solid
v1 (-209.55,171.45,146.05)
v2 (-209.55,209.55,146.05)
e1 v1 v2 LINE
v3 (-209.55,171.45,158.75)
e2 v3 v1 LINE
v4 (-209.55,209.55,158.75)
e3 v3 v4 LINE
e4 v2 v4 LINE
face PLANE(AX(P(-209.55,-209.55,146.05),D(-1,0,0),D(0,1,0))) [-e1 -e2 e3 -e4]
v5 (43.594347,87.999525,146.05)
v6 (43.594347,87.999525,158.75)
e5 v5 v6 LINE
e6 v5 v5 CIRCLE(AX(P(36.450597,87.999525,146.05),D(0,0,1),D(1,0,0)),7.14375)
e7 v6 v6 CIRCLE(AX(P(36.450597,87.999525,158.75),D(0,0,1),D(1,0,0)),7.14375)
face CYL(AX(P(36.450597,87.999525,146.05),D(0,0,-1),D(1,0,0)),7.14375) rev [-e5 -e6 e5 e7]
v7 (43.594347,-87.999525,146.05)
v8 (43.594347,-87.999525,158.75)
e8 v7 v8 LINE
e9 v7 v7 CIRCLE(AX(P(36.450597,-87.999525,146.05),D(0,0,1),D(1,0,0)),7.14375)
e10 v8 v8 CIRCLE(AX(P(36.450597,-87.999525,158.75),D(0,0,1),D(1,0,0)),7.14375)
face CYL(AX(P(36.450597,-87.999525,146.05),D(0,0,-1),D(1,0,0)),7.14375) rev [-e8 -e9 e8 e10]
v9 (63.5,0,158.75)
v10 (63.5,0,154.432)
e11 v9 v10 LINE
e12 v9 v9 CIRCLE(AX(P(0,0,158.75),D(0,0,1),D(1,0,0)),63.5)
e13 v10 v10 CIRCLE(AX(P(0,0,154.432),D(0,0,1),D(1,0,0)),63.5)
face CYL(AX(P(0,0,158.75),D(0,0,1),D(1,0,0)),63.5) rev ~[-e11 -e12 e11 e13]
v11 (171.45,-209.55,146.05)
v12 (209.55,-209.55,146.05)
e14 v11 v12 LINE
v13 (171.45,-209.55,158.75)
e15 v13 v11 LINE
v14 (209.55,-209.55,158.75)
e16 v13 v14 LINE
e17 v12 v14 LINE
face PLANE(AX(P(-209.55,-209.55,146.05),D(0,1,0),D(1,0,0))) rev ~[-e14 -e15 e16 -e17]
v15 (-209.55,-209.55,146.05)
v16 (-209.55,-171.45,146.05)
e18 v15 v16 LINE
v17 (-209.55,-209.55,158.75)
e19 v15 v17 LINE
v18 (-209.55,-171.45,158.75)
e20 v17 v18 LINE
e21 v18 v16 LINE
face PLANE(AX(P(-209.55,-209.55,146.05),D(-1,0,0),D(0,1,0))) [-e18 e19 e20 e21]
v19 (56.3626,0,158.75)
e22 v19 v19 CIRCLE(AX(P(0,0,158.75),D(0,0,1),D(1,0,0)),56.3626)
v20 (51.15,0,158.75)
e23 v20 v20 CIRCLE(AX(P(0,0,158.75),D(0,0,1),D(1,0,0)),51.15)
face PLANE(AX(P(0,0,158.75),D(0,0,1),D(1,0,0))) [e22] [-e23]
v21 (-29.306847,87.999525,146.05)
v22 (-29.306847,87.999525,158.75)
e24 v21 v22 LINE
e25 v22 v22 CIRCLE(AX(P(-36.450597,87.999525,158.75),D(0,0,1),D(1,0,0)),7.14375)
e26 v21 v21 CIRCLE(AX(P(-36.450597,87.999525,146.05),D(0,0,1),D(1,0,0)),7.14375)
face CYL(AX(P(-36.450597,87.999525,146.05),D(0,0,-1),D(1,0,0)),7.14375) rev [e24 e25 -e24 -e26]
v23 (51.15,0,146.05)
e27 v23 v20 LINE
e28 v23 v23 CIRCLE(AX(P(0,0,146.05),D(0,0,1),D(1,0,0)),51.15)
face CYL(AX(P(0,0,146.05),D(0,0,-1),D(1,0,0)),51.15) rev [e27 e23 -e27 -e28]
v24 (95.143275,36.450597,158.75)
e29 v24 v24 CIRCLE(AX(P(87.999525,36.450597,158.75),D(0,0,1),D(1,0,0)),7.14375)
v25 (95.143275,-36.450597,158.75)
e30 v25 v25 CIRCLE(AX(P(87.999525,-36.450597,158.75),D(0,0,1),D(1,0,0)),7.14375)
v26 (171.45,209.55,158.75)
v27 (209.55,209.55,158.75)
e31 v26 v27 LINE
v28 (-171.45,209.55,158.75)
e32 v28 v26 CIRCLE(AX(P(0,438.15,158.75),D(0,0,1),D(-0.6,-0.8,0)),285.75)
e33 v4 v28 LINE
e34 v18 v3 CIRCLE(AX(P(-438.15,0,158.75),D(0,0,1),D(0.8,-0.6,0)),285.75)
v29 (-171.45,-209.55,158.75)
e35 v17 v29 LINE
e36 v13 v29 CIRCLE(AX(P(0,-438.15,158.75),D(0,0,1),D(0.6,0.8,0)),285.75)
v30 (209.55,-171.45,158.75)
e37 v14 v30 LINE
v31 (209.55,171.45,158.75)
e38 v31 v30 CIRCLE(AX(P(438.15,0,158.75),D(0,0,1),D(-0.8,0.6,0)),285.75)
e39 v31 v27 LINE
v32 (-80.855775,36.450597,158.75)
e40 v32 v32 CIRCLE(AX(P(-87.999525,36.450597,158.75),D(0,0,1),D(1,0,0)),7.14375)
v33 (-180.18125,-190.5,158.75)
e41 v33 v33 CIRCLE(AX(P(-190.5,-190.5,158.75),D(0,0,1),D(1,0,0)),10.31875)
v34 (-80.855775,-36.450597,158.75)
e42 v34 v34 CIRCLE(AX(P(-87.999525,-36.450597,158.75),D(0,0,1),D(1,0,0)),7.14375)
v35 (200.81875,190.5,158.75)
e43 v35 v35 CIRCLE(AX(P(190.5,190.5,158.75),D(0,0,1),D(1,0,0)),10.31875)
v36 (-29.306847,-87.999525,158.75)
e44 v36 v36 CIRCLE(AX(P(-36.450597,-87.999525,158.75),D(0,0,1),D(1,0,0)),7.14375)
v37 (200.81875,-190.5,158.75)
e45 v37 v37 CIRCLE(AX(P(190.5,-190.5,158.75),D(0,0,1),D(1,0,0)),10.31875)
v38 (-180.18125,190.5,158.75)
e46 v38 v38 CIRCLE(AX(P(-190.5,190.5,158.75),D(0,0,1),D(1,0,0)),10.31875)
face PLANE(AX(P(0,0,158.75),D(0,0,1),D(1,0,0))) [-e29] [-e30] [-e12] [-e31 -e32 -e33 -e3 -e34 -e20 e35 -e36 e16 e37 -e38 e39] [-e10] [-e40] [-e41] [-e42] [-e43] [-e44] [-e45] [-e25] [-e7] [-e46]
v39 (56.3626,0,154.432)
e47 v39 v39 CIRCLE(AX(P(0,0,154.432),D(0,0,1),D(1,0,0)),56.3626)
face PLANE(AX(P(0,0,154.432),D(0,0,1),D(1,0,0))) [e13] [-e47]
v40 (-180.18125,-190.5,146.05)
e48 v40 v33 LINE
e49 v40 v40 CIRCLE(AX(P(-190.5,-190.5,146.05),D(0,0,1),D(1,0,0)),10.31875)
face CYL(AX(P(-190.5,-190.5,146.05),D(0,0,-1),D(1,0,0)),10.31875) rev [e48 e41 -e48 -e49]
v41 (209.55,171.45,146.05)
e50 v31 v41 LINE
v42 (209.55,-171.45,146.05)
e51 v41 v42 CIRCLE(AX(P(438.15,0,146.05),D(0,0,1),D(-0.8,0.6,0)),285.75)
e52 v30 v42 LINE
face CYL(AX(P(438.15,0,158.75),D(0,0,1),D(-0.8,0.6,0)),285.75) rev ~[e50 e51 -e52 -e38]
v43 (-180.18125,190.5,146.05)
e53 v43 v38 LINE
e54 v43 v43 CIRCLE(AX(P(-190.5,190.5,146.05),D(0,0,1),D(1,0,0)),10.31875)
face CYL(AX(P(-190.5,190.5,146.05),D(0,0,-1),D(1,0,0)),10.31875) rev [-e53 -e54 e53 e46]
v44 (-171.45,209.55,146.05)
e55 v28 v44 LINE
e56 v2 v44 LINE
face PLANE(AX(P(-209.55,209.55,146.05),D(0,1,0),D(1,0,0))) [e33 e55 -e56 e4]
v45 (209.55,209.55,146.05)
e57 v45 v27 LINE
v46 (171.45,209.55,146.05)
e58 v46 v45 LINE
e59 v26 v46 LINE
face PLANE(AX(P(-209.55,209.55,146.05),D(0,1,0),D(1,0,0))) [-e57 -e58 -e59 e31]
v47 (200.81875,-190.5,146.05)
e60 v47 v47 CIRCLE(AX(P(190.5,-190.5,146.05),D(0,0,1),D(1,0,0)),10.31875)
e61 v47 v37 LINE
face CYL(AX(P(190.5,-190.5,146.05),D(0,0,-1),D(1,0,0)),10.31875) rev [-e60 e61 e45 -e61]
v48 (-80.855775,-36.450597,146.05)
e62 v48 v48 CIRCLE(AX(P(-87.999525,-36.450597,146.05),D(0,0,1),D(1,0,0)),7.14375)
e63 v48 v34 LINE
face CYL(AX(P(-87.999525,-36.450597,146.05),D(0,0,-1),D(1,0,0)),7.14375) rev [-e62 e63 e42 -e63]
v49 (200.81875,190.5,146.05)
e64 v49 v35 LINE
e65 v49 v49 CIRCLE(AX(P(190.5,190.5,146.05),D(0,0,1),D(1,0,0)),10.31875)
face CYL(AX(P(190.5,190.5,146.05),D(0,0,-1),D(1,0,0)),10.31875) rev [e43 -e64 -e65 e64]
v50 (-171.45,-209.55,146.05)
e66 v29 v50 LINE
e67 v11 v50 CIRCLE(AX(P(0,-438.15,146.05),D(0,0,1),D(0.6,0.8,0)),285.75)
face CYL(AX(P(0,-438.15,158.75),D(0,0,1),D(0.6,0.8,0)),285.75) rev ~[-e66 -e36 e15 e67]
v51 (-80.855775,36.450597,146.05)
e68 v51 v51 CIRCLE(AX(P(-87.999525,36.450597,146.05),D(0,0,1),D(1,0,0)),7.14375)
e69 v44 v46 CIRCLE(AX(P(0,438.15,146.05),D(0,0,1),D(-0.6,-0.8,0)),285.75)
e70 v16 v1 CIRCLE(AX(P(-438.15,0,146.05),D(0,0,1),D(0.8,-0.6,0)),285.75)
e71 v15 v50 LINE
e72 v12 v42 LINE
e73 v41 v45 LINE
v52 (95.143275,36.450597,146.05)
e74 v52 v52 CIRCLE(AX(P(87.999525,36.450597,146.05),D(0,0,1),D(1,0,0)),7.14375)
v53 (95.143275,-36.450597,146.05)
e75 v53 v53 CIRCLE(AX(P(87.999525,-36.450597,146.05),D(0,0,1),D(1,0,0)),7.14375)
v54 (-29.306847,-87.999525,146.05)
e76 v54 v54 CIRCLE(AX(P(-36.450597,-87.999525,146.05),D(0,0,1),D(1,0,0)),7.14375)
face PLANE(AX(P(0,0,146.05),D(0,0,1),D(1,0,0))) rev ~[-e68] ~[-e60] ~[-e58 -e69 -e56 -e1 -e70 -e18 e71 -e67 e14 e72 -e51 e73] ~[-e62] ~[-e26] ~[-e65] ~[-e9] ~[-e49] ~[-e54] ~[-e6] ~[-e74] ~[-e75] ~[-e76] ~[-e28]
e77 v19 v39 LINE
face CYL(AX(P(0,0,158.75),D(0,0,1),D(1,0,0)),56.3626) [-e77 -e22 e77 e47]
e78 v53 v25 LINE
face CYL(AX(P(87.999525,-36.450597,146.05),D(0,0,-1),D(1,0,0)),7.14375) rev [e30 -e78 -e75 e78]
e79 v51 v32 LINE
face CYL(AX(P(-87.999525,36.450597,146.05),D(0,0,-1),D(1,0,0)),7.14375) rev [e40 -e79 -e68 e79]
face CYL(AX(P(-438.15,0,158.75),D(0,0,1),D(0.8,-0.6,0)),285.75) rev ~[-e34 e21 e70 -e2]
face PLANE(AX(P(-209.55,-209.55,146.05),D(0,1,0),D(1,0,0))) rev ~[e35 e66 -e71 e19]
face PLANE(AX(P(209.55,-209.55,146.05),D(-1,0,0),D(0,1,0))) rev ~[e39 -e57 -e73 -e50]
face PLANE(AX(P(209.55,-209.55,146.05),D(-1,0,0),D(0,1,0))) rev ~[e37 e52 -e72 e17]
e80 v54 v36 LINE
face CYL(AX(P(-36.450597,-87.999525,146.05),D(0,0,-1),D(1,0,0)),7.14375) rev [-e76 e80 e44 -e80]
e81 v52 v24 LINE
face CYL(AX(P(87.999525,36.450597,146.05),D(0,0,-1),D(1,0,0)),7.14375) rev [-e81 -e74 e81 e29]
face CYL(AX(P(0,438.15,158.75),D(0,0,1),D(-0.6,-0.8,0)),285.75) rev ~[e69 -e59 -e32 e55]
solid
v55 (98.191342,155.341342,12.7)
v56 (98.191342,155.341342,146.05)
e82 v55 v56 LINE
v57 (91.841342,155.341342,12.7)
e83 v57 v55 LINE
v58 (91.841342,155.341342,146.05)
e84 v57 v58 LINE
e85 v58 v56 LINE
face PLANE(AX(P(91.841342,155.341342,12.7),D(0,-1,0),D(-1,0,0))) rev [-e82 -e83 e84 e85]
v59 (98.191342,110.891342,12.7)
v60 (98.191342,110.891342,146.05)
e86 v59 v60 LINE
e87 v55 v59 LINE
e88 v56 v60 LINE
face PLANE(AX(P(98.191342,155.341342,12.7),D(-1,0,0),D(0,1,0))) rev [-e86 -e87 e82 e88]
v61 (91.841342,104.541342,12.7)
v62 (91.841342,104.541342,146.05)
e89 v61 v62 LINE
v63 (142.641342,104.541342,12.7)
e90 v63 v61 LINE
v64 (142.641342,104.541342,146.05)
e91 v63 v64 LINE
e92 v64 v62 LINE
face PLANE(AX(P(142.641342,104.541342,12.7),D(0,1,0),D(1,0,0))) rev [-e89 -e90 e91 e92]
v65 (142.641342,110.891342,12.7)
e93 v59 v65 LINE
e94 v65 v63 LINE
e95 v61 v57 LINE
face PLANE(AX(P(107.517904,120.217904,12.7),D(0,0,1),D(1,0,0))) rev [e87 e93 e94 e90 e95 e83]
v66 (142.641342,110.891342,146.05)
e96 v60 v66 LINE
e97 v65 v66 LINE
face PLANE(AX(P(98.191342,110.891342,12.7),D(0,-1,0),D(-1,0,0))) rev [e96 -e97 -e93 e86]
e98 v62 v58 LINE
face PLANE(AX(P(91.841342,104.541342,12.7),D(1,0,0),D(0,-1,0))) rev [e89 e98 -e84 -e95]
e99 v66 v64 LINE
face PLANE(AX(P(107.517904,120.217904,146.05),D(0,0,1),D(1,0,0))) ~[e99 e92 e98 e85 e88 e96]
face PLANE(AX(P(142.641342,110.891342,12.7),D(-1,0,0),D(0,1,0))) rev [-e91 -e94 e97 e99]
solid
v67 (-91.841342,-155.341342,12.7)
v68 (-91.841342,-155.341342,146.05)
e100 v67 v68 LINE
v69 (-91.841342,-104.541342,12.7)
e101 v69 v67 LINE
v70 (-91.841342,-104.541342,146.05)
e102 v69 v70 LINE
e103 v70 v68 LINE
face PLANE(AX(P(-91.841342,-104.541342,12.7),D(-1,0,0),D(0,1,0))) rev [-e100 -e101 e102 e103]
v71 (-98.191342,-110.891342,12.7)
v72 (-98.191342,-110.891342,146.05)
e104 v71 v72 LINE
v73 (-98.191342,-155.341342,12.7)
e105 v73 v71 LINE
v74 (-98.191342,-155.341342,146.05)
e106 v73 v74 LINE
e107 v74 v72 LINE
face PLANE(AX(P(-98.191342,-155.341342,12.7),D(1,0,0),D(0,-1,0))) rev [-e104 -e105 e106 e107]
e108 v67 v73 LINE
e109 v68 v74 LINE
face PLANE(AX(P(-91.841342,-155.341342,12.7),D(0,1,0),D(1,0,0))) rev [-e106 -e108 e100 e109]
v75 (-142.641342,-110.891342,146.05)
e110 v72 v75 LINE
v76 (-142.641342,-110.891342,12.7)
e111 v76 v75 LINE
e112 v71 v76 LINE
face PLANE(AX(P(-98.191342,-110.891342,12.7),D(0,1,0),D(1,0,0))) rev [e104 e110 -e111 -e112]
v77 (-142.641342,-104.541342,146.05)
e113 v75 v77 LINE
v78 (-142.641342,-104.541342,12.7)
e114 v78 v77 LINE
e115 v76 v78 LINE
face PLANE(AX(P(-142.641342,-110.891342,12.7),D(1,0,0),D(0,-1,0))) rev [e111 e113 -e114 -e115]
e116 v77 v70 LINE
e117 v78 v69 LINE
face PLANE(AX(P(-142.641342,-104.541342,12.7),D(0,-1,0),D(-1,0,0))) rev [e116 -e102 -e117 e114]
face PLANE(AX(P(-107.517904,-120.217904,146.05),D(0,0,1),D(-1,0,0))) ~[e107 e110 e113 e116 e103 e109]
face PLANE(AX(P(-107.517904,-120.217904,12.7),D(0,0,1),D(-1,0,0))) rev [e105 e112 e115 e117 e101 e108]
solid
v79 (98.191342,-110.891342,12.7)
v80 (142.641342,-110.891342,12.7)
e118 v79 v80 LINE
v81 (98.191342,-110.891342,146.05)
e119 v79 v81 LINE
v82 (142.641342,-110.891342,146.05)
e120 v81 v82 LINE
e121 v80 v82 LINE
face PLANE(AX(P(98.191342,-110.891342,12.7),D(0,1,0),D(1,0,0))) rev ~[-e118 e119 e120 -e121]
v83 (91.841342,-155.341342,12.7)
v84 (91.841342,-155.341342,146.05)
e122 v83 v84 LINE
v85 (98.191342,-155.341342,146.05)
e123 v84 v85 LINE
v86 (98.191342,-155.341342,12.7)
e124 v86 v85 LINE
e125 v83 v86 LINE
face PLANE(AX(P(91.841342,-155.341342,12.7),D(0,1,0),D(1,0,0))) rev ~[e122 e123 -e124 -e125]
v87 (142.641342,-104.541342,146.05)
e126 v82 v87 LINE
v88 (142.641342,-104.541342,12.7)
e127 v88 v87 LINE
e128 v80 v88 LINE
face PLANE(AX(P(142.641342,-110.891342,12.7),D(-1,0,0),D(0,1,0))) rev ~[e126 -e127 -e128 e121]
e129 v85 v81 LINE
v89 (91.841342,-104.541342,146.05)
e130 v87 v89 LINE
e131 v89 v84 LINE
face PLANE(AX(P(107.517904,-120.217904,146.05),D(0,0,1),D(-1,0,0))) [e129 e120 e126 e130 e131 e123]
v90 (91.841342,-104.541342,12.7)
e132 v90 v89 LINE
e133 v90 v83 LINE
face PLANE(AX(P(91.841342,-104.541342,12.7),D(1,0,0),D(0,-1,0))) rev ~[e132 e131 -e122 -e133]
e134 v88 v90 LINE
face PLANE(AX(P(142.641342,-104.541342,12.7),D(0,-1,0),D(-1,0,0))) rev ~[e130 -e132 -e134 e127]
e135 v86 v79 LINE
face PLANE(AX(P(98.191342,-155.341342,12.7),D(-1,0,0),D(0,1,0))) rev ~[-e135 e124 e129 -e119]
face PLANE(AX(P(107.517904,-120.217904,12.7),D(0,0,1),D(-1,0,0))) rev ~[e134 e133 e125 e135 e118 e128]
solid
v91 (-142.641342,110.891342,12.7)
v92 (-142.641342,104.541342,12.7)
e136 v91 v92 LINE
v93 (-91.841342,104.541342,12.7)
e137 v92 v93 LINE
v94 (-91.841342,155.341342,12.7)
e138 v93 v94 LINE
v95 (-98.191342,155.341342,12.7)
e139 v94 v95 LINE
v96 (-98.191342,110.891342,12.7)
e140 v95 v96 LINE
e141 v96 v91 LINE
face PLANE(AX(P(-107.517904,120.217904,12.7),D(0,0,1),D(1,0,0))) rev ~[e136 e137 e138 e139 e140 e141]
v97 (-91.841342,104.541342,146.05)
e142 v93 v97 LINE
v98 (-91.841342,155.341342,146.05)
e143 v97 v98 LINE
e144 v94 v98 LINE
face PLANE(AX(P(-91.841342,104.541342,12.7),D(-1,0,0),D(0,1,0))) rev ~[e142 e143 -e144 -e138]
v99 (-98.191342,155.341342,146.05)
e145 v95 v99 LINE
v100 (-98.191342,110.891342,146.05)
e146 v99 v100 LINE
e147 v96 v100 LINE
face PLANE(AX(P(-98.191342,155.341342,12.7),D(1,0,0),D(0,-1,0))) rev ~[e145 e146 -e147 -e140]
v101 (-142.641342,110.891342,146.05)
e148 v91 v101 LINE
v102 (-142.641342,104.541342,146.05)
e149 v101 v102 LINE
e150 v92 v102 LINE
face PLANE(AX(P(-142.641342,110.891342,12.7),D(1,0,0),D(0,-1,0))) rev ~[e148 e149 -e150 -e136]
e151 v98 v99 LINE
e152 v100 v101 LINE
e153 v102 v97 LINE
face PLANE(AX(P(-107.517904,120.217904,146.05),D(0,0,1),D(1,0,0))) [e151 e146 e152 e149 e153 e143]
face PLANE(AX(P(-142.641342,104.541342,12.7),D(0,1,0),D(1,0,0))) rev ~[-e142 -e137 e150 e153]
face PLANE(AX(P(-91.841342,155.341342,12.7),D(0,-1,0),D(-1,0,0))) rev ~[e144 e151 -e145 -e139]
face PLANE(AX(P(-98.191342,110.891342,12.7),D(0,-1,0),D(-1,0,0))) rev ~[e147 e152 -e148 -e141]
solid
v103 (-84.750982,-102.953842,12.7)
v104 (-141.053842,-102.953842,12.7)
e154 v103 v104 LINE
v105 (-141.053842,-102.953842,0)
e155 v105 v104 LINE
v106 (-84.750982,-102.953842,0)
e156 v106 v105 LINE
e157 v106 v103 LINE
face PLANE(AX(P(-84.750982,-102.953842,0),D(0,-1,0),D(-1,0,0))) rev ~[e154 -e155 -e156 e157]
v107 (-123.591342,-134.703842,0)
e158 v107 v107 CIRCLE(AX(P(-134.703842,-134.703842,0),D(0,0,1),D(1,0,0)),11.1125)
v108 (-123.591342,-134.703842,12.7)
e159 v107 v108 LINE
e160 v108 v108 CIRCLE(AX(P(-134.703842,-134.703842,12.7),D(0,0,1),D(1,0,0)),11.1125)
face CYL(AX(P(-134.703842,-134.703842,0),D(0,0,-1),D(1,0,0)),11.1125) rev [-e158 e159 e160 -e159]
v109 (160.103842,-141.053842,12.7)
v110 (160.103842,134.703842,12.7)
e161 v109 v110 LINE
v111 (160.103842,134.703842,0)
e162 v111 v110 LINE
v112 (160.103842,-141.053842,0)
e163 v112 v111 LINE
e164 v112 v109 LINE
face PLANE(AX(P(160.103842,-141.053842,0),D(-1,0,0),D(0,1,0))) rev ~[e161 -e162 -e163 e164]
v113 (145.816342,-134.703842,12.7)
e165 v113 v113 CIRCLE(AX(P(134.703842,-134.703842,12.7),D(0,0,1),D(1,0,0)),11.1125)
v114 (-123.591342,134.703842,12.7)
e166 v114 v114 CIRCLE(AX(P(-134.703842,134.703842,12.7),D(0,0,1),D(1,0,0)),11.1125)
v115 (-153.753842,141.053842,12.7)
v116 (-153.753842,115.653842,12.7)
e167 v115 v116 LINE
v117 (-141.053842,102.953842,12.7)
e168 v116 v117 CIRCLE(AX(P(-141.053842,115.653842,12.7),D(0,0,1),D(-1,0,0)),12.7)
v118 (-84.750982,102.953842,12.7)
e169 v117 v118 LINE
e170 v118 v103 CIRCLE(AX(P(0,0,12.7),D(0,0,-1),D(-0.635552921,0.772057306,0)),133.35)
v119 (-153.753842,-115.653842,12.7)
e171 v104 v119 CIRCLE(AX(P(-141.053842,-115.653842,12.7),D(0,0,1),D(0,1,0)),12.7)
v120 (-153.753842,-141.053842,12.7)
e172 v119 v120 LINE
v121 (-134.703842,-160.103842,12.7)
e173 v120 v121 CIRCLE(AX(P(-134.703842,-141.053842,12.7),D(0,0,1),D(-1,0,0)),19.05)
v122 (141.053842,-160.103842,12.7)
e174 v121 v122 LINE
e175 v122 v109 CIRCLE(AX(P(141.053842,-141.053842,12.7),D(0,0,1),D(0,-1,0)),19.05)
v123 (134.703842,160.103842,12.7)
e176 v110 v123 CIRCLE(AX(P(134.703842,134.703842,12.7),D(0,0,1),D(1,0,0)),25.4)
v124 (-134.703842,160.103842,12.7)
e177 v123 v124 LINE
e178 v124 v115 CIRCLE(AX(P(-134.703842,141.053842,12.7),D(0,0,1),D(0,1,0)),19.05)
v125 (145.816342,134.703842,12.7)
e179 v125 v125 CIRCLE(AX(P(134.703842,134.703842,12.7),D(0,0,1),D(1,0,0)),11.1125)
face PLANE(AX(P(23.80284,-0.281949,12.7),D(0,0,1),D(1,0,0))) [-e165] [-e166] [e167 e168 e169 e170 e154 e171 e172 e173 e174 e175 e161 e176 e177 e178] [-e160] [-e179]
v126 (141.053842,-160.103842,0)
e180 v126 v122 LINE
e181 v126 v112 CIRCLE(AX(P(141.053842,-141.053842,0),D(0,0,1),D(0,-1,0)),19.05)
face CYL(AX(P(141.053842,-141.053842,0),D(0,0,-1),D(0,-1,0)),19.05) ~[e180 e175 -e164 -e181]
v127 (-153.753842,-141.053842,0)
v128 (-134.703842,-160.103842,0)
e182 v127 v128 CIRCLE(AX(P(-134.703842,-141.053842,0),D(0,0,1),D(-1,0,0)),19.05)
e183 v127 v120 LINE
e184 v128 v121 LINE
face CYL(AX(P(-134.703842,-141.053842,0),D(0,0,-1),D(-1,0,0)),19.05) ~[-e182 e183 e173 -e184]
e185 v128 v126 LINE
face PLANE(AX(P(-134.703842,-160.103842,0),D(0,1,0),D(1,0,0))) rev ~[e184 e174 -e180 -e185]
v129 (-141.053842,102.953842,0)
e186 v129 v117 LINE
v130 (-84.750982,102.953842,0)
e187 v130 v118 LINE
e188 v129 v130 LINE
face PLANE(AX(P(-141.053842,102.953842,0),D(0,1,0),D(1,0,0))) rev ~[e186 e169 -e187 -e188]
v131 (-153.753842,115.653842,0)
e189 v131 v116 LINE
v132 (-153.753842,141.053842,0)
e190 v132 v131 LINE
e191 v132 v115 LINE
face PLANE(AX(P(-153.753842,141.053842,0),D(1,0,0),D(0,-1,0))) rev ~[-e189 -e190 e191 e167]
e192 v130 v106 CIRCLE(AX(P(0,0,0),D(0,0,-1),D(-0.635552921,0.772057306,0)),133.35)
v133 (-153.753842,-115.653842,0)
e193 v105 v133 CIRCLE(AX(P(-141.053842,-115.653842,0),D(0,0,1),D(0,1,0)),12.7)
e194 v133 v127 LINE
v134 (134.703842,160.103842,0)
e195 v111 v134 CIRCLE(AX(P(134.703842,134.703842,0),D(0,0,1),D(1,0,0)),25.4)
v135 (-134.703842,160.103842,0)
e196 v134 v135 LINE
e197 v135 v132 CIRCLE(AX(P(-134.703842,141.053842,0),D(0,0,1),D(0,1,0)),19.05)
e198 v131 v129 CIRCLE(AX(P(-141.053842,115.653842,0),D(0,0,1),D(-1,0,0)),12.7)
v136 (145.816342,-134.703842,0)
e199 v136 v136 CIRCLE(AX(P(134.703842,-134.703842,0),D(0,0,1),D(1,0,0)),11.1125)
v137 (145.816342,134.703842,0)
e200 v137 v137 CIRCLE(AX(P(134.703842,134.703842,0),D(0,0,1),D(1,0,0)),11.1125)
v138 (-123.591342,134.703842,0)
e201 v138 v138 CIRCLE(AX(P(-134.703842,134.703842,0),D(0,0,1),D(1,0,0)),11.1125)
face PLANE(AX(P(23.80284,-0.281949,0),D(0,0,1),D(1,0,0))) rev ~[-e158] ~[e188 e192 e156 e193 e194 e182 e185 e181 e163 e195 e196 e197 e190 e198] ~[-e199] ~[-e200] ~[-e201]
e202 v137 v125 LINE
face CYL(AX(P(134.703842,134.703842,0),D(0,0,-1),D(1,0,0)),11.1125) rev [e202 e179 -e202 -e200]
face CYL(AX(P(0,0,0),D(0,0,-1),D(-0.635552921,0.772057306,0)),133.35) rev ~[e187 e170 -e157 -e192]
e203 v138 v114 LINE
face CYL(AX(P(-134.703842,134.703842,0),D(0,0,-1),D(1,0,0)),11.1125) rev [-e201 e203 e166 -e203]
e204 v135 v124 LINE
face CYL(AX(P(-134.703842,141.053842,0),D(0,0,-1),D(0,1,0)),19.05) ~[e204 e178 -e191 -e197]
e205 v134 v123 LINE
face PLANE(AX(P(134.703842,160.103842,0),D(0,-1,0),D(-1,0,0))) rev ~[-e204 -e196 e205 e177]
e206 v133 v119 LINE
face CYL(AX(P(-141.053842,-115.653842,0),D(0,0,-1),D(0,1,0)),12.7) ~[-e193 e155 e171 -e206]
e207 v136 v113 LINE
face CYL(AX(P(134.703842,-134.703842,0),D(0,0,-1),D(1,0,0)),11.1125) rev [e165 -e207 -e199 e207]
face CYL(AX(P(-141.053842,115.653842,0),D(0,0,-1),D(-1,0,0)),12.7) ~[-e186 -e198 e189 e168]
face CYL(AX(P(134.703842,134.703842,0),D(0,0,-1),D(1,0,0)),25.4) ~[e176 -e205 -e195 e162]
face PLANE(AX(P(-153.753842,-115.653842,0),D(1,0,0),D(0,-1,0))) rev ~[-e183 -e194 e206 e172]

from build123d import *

# Parameters (mm, degrees)
F0_R      = 11.1125
F1_DEPTH  = 12.7
F3_DEPTH  = 133.35
F6_W      = 419.1
F6_H      = 419.1
F6_R      = 10.31875
F6_R_2    = 7.14375
F6_R_3    = 51.15
F7_DEPTH  = 12.7
F9_DEPTH  = 25.4
F10_R     = 63.5
F10_R_2   = 56.3626
F11_DEPTH = 4.318


with BuildPart() as f1:
    # F0 (on Top) → F1 (new body)
    with BuildSketch(Plane.XY):
        with BuildLine():
            ThreePointArc((-84.7509820316, 102.953841816), (133.35, 0), (-84.7509820316, -102.953841816))
            Line((-84.7509820316, -102.953841816), (-141.053841816, -102.953841816))
            ThreePointArc((-141.053841816, -102.953841816), (-150.0340979371, -106.673585695), (-153.753841816, -115.653841816))
            Line((-153.753841816, -115.653841816), (-153.753841816, -141.053841816))
            ThreePointArc((-153.753841816, -141.053841816), (-148.1742259976, -154.5242259976), (-134.703841816, -160.103841816))
            Line((-134.703841816, -160.103841816), (141.053841816, -160.103841816))
            ThreePointArc((141.053841816, -160.103841816), (154.5242259976, -154.5242259976), (160.103841816, -141.053841816))
            Line((160.103841816, -141.053841816), (160.103841816, 134.703841816))
            ThreePointArc((160.103841816, 134.703841816), (152.6643540582, 152.6643540582), (134.703841816, 160.103841816))
            Line((134.703841816, 160.103841816), (-134.703841816, 160.103841816))
            ThreePointArc((-134.703841816, 160.103841816), (-148.1742259976, 154.5242259976), (-153.753841816, 141.053841816))
            Line((-153.753841816, 141.053841816), (-153.753841816, 115.653841816))
            ThreePointArc((-153.753841816, 115.653841816), (-150.0340979371, 106.673585695), (-141.053841816, 102.953841816))
            Line((-141.053841816, 102.953841816), (-84.7509820316, 102.953841816))
        make_face()
        with Locations((-134.703841816, -134.703841816)):
            Circle(F0_R, mode=Mode.SUBTRACT)
        with Locations((134.703841816, -134.703841816)):
            Circle(F0_R, mode=Mode.SUBTRACT)
        with Locations((-134.703841816, 134.703841816)):
            Circle(F0_R, mode=Mode.SUBTRACT)
        with Locations((134.703841816, 134.703841816)):
            Circle(F0_R, mode=Mode.SUBTRACT)
    extrude(amount=F1_DEPTH)


with BuildPart() as f3:
    # F2 (on face) → F3 (new body)
    with BuildSketch(Plane.XY.offset(12.7)):
        Polygon((-91.841341816, 104.541341816), (-91.841341816, 155.341341816), (-98.191341816, 155.341341816), (-98.191341816, 110.891341816), (-142.641341816, 110.891341816), (-142.641341816, 104.541341816), align=None)
    extrude(amount=F3_DEPTH)


with BuildPart() as f4_1:
    # F4: instance of F3
    add(f3.part.mirror(Plane.YZ))


with BuildPart() as f5_1:
    # F5: instance of F3
    add(f3.part.mirror(Plane.XZ))


with BuildPart() as f5_2:
    # F5: instance of F4_1
    add(f4_1.part.mirror(Plane.XZ))


with BuildPart() as f7:
    # F6 (on face) → F7 (new body)
    with BuildSketch(Plane.XY.offset(146.05)):
        Rectangle(F6_W, F6_H)
        with Locations((-190.5, -190.5)):
            Circle(F6_R, mode=Mode.SUBTRACT)
        with Locations((-36.4505969328, -87.9995254717)):
            Circle(F6_R_2, mode=Mode.SUBTRACT)
        with Locations((-87.9995254717, -36.4505969328)):
            Circle(F6_R_2, mode=Mode.SUBTRACT)
        with Locations((190.5, -190.5)):
            Circle(F6_R, mode=Mode.SUBTRACT)
        with Locations((36.4505969328, -87.9995254717)):
            Circle(F6_R_2, mode=Mode.SUBTRACT)
        with Locations((87.9995254717, -36.4505969328)):
            Circle(F6_R_2, mode=Mode.SUBTRACT)
        with Locations((-87.9995254717, 36.4505969328)):
            Circle(F6_R_2, mode=Mode.SUBTRACT)
        with Locations((-36.4505969328, 87.9995254717)):
            Circle(F6_R_2, mode=Mode.SUBTRACT)
        Polygon((-91.841341816, 104.541341816), (-142.641341816, 104.541341816), (-142.641341816, 110.891341816), (-98.191341816, 110.891341816), (-98.191341816, 155.341341816), (-91.841341816, 155.341341816), align=None, mode=Mode.SUBTRACT)
        with Locations((-190.5, 190.5)):
            Circle(F6_R, mode=Mode.SUBTRACT)
        Circle(F6_R_3, mode=Mode.SUBTRACT)
        with Locations((87.9995254717, 36.4505969328)):
            Circle(F6_R_2, mode=Mode.SUBTRACT)
        with Locations((36.4505969328, 87.9995254717)):
            Circle(F6_R_2, mode=Mode.SUBTRACT)
        with Locations((190.5, 190.5)):
            Circle(F6_R, mode=Mode.SUBTRACT)
        Polygon((-142.641341816, 110.891341816), (-142.641341816, 104.541341816), (-91.841341816, 104.541341816), (-91.841341816, 155.341341816), (-98.191341816, 155.341341816), (-98.191341816, 110.891341816), align=None)
    extrude(amount=F7_DEPTH)

    # F8 (on face) → F9 (cut)
    with BuildSketch(Plane.XY.offset(158.75)):
        with BuildLine():
            Line((-209.55, 171.45), (-209.55, -171.45))
            ThreePointArc((-209.55, -171.45), (-152.4, 0), (-209.55, 171.45))
        make_face()
        with BuildLine():
            Line((171.45, 209.55), (-171.45, 209.55))
            ThreePointArc((-171.45, 209.55), (0, 152.4), (171.45, 209.55))
        make_face()
        with BuildLine():
            ThreePointArc((209.55, 171.45), (152.4, 0), (209.55, -171.45))
            Line((209.55, -171.45), (209.55, 171.45))
        make_face()
        with BuildLine():
            ThreePointArc((171.45, -209.55), (0, -152.4), (-171.45, -209.55))
            Line((-171.45, -209.55), (171.45, -209.55))
        make_face()
    extrude(amount=-F9_DEPTH, mode=Mode.SUBTRACT)

    # F10 (on face) → F11 (cut)
    with BuildSketch(Plane.XY.offset(158.75)):
        Circle(F10_R)
        Circle(F10_R_2, mode=Mode.SUBTRACT)
    extrude(amount=-F11_DEPTH, mode=Mode.SUBTRACT)


solid = Compound([f1.part, f3.part, f4_1.part, f5_1.part, f5_2.part, f7.part])
